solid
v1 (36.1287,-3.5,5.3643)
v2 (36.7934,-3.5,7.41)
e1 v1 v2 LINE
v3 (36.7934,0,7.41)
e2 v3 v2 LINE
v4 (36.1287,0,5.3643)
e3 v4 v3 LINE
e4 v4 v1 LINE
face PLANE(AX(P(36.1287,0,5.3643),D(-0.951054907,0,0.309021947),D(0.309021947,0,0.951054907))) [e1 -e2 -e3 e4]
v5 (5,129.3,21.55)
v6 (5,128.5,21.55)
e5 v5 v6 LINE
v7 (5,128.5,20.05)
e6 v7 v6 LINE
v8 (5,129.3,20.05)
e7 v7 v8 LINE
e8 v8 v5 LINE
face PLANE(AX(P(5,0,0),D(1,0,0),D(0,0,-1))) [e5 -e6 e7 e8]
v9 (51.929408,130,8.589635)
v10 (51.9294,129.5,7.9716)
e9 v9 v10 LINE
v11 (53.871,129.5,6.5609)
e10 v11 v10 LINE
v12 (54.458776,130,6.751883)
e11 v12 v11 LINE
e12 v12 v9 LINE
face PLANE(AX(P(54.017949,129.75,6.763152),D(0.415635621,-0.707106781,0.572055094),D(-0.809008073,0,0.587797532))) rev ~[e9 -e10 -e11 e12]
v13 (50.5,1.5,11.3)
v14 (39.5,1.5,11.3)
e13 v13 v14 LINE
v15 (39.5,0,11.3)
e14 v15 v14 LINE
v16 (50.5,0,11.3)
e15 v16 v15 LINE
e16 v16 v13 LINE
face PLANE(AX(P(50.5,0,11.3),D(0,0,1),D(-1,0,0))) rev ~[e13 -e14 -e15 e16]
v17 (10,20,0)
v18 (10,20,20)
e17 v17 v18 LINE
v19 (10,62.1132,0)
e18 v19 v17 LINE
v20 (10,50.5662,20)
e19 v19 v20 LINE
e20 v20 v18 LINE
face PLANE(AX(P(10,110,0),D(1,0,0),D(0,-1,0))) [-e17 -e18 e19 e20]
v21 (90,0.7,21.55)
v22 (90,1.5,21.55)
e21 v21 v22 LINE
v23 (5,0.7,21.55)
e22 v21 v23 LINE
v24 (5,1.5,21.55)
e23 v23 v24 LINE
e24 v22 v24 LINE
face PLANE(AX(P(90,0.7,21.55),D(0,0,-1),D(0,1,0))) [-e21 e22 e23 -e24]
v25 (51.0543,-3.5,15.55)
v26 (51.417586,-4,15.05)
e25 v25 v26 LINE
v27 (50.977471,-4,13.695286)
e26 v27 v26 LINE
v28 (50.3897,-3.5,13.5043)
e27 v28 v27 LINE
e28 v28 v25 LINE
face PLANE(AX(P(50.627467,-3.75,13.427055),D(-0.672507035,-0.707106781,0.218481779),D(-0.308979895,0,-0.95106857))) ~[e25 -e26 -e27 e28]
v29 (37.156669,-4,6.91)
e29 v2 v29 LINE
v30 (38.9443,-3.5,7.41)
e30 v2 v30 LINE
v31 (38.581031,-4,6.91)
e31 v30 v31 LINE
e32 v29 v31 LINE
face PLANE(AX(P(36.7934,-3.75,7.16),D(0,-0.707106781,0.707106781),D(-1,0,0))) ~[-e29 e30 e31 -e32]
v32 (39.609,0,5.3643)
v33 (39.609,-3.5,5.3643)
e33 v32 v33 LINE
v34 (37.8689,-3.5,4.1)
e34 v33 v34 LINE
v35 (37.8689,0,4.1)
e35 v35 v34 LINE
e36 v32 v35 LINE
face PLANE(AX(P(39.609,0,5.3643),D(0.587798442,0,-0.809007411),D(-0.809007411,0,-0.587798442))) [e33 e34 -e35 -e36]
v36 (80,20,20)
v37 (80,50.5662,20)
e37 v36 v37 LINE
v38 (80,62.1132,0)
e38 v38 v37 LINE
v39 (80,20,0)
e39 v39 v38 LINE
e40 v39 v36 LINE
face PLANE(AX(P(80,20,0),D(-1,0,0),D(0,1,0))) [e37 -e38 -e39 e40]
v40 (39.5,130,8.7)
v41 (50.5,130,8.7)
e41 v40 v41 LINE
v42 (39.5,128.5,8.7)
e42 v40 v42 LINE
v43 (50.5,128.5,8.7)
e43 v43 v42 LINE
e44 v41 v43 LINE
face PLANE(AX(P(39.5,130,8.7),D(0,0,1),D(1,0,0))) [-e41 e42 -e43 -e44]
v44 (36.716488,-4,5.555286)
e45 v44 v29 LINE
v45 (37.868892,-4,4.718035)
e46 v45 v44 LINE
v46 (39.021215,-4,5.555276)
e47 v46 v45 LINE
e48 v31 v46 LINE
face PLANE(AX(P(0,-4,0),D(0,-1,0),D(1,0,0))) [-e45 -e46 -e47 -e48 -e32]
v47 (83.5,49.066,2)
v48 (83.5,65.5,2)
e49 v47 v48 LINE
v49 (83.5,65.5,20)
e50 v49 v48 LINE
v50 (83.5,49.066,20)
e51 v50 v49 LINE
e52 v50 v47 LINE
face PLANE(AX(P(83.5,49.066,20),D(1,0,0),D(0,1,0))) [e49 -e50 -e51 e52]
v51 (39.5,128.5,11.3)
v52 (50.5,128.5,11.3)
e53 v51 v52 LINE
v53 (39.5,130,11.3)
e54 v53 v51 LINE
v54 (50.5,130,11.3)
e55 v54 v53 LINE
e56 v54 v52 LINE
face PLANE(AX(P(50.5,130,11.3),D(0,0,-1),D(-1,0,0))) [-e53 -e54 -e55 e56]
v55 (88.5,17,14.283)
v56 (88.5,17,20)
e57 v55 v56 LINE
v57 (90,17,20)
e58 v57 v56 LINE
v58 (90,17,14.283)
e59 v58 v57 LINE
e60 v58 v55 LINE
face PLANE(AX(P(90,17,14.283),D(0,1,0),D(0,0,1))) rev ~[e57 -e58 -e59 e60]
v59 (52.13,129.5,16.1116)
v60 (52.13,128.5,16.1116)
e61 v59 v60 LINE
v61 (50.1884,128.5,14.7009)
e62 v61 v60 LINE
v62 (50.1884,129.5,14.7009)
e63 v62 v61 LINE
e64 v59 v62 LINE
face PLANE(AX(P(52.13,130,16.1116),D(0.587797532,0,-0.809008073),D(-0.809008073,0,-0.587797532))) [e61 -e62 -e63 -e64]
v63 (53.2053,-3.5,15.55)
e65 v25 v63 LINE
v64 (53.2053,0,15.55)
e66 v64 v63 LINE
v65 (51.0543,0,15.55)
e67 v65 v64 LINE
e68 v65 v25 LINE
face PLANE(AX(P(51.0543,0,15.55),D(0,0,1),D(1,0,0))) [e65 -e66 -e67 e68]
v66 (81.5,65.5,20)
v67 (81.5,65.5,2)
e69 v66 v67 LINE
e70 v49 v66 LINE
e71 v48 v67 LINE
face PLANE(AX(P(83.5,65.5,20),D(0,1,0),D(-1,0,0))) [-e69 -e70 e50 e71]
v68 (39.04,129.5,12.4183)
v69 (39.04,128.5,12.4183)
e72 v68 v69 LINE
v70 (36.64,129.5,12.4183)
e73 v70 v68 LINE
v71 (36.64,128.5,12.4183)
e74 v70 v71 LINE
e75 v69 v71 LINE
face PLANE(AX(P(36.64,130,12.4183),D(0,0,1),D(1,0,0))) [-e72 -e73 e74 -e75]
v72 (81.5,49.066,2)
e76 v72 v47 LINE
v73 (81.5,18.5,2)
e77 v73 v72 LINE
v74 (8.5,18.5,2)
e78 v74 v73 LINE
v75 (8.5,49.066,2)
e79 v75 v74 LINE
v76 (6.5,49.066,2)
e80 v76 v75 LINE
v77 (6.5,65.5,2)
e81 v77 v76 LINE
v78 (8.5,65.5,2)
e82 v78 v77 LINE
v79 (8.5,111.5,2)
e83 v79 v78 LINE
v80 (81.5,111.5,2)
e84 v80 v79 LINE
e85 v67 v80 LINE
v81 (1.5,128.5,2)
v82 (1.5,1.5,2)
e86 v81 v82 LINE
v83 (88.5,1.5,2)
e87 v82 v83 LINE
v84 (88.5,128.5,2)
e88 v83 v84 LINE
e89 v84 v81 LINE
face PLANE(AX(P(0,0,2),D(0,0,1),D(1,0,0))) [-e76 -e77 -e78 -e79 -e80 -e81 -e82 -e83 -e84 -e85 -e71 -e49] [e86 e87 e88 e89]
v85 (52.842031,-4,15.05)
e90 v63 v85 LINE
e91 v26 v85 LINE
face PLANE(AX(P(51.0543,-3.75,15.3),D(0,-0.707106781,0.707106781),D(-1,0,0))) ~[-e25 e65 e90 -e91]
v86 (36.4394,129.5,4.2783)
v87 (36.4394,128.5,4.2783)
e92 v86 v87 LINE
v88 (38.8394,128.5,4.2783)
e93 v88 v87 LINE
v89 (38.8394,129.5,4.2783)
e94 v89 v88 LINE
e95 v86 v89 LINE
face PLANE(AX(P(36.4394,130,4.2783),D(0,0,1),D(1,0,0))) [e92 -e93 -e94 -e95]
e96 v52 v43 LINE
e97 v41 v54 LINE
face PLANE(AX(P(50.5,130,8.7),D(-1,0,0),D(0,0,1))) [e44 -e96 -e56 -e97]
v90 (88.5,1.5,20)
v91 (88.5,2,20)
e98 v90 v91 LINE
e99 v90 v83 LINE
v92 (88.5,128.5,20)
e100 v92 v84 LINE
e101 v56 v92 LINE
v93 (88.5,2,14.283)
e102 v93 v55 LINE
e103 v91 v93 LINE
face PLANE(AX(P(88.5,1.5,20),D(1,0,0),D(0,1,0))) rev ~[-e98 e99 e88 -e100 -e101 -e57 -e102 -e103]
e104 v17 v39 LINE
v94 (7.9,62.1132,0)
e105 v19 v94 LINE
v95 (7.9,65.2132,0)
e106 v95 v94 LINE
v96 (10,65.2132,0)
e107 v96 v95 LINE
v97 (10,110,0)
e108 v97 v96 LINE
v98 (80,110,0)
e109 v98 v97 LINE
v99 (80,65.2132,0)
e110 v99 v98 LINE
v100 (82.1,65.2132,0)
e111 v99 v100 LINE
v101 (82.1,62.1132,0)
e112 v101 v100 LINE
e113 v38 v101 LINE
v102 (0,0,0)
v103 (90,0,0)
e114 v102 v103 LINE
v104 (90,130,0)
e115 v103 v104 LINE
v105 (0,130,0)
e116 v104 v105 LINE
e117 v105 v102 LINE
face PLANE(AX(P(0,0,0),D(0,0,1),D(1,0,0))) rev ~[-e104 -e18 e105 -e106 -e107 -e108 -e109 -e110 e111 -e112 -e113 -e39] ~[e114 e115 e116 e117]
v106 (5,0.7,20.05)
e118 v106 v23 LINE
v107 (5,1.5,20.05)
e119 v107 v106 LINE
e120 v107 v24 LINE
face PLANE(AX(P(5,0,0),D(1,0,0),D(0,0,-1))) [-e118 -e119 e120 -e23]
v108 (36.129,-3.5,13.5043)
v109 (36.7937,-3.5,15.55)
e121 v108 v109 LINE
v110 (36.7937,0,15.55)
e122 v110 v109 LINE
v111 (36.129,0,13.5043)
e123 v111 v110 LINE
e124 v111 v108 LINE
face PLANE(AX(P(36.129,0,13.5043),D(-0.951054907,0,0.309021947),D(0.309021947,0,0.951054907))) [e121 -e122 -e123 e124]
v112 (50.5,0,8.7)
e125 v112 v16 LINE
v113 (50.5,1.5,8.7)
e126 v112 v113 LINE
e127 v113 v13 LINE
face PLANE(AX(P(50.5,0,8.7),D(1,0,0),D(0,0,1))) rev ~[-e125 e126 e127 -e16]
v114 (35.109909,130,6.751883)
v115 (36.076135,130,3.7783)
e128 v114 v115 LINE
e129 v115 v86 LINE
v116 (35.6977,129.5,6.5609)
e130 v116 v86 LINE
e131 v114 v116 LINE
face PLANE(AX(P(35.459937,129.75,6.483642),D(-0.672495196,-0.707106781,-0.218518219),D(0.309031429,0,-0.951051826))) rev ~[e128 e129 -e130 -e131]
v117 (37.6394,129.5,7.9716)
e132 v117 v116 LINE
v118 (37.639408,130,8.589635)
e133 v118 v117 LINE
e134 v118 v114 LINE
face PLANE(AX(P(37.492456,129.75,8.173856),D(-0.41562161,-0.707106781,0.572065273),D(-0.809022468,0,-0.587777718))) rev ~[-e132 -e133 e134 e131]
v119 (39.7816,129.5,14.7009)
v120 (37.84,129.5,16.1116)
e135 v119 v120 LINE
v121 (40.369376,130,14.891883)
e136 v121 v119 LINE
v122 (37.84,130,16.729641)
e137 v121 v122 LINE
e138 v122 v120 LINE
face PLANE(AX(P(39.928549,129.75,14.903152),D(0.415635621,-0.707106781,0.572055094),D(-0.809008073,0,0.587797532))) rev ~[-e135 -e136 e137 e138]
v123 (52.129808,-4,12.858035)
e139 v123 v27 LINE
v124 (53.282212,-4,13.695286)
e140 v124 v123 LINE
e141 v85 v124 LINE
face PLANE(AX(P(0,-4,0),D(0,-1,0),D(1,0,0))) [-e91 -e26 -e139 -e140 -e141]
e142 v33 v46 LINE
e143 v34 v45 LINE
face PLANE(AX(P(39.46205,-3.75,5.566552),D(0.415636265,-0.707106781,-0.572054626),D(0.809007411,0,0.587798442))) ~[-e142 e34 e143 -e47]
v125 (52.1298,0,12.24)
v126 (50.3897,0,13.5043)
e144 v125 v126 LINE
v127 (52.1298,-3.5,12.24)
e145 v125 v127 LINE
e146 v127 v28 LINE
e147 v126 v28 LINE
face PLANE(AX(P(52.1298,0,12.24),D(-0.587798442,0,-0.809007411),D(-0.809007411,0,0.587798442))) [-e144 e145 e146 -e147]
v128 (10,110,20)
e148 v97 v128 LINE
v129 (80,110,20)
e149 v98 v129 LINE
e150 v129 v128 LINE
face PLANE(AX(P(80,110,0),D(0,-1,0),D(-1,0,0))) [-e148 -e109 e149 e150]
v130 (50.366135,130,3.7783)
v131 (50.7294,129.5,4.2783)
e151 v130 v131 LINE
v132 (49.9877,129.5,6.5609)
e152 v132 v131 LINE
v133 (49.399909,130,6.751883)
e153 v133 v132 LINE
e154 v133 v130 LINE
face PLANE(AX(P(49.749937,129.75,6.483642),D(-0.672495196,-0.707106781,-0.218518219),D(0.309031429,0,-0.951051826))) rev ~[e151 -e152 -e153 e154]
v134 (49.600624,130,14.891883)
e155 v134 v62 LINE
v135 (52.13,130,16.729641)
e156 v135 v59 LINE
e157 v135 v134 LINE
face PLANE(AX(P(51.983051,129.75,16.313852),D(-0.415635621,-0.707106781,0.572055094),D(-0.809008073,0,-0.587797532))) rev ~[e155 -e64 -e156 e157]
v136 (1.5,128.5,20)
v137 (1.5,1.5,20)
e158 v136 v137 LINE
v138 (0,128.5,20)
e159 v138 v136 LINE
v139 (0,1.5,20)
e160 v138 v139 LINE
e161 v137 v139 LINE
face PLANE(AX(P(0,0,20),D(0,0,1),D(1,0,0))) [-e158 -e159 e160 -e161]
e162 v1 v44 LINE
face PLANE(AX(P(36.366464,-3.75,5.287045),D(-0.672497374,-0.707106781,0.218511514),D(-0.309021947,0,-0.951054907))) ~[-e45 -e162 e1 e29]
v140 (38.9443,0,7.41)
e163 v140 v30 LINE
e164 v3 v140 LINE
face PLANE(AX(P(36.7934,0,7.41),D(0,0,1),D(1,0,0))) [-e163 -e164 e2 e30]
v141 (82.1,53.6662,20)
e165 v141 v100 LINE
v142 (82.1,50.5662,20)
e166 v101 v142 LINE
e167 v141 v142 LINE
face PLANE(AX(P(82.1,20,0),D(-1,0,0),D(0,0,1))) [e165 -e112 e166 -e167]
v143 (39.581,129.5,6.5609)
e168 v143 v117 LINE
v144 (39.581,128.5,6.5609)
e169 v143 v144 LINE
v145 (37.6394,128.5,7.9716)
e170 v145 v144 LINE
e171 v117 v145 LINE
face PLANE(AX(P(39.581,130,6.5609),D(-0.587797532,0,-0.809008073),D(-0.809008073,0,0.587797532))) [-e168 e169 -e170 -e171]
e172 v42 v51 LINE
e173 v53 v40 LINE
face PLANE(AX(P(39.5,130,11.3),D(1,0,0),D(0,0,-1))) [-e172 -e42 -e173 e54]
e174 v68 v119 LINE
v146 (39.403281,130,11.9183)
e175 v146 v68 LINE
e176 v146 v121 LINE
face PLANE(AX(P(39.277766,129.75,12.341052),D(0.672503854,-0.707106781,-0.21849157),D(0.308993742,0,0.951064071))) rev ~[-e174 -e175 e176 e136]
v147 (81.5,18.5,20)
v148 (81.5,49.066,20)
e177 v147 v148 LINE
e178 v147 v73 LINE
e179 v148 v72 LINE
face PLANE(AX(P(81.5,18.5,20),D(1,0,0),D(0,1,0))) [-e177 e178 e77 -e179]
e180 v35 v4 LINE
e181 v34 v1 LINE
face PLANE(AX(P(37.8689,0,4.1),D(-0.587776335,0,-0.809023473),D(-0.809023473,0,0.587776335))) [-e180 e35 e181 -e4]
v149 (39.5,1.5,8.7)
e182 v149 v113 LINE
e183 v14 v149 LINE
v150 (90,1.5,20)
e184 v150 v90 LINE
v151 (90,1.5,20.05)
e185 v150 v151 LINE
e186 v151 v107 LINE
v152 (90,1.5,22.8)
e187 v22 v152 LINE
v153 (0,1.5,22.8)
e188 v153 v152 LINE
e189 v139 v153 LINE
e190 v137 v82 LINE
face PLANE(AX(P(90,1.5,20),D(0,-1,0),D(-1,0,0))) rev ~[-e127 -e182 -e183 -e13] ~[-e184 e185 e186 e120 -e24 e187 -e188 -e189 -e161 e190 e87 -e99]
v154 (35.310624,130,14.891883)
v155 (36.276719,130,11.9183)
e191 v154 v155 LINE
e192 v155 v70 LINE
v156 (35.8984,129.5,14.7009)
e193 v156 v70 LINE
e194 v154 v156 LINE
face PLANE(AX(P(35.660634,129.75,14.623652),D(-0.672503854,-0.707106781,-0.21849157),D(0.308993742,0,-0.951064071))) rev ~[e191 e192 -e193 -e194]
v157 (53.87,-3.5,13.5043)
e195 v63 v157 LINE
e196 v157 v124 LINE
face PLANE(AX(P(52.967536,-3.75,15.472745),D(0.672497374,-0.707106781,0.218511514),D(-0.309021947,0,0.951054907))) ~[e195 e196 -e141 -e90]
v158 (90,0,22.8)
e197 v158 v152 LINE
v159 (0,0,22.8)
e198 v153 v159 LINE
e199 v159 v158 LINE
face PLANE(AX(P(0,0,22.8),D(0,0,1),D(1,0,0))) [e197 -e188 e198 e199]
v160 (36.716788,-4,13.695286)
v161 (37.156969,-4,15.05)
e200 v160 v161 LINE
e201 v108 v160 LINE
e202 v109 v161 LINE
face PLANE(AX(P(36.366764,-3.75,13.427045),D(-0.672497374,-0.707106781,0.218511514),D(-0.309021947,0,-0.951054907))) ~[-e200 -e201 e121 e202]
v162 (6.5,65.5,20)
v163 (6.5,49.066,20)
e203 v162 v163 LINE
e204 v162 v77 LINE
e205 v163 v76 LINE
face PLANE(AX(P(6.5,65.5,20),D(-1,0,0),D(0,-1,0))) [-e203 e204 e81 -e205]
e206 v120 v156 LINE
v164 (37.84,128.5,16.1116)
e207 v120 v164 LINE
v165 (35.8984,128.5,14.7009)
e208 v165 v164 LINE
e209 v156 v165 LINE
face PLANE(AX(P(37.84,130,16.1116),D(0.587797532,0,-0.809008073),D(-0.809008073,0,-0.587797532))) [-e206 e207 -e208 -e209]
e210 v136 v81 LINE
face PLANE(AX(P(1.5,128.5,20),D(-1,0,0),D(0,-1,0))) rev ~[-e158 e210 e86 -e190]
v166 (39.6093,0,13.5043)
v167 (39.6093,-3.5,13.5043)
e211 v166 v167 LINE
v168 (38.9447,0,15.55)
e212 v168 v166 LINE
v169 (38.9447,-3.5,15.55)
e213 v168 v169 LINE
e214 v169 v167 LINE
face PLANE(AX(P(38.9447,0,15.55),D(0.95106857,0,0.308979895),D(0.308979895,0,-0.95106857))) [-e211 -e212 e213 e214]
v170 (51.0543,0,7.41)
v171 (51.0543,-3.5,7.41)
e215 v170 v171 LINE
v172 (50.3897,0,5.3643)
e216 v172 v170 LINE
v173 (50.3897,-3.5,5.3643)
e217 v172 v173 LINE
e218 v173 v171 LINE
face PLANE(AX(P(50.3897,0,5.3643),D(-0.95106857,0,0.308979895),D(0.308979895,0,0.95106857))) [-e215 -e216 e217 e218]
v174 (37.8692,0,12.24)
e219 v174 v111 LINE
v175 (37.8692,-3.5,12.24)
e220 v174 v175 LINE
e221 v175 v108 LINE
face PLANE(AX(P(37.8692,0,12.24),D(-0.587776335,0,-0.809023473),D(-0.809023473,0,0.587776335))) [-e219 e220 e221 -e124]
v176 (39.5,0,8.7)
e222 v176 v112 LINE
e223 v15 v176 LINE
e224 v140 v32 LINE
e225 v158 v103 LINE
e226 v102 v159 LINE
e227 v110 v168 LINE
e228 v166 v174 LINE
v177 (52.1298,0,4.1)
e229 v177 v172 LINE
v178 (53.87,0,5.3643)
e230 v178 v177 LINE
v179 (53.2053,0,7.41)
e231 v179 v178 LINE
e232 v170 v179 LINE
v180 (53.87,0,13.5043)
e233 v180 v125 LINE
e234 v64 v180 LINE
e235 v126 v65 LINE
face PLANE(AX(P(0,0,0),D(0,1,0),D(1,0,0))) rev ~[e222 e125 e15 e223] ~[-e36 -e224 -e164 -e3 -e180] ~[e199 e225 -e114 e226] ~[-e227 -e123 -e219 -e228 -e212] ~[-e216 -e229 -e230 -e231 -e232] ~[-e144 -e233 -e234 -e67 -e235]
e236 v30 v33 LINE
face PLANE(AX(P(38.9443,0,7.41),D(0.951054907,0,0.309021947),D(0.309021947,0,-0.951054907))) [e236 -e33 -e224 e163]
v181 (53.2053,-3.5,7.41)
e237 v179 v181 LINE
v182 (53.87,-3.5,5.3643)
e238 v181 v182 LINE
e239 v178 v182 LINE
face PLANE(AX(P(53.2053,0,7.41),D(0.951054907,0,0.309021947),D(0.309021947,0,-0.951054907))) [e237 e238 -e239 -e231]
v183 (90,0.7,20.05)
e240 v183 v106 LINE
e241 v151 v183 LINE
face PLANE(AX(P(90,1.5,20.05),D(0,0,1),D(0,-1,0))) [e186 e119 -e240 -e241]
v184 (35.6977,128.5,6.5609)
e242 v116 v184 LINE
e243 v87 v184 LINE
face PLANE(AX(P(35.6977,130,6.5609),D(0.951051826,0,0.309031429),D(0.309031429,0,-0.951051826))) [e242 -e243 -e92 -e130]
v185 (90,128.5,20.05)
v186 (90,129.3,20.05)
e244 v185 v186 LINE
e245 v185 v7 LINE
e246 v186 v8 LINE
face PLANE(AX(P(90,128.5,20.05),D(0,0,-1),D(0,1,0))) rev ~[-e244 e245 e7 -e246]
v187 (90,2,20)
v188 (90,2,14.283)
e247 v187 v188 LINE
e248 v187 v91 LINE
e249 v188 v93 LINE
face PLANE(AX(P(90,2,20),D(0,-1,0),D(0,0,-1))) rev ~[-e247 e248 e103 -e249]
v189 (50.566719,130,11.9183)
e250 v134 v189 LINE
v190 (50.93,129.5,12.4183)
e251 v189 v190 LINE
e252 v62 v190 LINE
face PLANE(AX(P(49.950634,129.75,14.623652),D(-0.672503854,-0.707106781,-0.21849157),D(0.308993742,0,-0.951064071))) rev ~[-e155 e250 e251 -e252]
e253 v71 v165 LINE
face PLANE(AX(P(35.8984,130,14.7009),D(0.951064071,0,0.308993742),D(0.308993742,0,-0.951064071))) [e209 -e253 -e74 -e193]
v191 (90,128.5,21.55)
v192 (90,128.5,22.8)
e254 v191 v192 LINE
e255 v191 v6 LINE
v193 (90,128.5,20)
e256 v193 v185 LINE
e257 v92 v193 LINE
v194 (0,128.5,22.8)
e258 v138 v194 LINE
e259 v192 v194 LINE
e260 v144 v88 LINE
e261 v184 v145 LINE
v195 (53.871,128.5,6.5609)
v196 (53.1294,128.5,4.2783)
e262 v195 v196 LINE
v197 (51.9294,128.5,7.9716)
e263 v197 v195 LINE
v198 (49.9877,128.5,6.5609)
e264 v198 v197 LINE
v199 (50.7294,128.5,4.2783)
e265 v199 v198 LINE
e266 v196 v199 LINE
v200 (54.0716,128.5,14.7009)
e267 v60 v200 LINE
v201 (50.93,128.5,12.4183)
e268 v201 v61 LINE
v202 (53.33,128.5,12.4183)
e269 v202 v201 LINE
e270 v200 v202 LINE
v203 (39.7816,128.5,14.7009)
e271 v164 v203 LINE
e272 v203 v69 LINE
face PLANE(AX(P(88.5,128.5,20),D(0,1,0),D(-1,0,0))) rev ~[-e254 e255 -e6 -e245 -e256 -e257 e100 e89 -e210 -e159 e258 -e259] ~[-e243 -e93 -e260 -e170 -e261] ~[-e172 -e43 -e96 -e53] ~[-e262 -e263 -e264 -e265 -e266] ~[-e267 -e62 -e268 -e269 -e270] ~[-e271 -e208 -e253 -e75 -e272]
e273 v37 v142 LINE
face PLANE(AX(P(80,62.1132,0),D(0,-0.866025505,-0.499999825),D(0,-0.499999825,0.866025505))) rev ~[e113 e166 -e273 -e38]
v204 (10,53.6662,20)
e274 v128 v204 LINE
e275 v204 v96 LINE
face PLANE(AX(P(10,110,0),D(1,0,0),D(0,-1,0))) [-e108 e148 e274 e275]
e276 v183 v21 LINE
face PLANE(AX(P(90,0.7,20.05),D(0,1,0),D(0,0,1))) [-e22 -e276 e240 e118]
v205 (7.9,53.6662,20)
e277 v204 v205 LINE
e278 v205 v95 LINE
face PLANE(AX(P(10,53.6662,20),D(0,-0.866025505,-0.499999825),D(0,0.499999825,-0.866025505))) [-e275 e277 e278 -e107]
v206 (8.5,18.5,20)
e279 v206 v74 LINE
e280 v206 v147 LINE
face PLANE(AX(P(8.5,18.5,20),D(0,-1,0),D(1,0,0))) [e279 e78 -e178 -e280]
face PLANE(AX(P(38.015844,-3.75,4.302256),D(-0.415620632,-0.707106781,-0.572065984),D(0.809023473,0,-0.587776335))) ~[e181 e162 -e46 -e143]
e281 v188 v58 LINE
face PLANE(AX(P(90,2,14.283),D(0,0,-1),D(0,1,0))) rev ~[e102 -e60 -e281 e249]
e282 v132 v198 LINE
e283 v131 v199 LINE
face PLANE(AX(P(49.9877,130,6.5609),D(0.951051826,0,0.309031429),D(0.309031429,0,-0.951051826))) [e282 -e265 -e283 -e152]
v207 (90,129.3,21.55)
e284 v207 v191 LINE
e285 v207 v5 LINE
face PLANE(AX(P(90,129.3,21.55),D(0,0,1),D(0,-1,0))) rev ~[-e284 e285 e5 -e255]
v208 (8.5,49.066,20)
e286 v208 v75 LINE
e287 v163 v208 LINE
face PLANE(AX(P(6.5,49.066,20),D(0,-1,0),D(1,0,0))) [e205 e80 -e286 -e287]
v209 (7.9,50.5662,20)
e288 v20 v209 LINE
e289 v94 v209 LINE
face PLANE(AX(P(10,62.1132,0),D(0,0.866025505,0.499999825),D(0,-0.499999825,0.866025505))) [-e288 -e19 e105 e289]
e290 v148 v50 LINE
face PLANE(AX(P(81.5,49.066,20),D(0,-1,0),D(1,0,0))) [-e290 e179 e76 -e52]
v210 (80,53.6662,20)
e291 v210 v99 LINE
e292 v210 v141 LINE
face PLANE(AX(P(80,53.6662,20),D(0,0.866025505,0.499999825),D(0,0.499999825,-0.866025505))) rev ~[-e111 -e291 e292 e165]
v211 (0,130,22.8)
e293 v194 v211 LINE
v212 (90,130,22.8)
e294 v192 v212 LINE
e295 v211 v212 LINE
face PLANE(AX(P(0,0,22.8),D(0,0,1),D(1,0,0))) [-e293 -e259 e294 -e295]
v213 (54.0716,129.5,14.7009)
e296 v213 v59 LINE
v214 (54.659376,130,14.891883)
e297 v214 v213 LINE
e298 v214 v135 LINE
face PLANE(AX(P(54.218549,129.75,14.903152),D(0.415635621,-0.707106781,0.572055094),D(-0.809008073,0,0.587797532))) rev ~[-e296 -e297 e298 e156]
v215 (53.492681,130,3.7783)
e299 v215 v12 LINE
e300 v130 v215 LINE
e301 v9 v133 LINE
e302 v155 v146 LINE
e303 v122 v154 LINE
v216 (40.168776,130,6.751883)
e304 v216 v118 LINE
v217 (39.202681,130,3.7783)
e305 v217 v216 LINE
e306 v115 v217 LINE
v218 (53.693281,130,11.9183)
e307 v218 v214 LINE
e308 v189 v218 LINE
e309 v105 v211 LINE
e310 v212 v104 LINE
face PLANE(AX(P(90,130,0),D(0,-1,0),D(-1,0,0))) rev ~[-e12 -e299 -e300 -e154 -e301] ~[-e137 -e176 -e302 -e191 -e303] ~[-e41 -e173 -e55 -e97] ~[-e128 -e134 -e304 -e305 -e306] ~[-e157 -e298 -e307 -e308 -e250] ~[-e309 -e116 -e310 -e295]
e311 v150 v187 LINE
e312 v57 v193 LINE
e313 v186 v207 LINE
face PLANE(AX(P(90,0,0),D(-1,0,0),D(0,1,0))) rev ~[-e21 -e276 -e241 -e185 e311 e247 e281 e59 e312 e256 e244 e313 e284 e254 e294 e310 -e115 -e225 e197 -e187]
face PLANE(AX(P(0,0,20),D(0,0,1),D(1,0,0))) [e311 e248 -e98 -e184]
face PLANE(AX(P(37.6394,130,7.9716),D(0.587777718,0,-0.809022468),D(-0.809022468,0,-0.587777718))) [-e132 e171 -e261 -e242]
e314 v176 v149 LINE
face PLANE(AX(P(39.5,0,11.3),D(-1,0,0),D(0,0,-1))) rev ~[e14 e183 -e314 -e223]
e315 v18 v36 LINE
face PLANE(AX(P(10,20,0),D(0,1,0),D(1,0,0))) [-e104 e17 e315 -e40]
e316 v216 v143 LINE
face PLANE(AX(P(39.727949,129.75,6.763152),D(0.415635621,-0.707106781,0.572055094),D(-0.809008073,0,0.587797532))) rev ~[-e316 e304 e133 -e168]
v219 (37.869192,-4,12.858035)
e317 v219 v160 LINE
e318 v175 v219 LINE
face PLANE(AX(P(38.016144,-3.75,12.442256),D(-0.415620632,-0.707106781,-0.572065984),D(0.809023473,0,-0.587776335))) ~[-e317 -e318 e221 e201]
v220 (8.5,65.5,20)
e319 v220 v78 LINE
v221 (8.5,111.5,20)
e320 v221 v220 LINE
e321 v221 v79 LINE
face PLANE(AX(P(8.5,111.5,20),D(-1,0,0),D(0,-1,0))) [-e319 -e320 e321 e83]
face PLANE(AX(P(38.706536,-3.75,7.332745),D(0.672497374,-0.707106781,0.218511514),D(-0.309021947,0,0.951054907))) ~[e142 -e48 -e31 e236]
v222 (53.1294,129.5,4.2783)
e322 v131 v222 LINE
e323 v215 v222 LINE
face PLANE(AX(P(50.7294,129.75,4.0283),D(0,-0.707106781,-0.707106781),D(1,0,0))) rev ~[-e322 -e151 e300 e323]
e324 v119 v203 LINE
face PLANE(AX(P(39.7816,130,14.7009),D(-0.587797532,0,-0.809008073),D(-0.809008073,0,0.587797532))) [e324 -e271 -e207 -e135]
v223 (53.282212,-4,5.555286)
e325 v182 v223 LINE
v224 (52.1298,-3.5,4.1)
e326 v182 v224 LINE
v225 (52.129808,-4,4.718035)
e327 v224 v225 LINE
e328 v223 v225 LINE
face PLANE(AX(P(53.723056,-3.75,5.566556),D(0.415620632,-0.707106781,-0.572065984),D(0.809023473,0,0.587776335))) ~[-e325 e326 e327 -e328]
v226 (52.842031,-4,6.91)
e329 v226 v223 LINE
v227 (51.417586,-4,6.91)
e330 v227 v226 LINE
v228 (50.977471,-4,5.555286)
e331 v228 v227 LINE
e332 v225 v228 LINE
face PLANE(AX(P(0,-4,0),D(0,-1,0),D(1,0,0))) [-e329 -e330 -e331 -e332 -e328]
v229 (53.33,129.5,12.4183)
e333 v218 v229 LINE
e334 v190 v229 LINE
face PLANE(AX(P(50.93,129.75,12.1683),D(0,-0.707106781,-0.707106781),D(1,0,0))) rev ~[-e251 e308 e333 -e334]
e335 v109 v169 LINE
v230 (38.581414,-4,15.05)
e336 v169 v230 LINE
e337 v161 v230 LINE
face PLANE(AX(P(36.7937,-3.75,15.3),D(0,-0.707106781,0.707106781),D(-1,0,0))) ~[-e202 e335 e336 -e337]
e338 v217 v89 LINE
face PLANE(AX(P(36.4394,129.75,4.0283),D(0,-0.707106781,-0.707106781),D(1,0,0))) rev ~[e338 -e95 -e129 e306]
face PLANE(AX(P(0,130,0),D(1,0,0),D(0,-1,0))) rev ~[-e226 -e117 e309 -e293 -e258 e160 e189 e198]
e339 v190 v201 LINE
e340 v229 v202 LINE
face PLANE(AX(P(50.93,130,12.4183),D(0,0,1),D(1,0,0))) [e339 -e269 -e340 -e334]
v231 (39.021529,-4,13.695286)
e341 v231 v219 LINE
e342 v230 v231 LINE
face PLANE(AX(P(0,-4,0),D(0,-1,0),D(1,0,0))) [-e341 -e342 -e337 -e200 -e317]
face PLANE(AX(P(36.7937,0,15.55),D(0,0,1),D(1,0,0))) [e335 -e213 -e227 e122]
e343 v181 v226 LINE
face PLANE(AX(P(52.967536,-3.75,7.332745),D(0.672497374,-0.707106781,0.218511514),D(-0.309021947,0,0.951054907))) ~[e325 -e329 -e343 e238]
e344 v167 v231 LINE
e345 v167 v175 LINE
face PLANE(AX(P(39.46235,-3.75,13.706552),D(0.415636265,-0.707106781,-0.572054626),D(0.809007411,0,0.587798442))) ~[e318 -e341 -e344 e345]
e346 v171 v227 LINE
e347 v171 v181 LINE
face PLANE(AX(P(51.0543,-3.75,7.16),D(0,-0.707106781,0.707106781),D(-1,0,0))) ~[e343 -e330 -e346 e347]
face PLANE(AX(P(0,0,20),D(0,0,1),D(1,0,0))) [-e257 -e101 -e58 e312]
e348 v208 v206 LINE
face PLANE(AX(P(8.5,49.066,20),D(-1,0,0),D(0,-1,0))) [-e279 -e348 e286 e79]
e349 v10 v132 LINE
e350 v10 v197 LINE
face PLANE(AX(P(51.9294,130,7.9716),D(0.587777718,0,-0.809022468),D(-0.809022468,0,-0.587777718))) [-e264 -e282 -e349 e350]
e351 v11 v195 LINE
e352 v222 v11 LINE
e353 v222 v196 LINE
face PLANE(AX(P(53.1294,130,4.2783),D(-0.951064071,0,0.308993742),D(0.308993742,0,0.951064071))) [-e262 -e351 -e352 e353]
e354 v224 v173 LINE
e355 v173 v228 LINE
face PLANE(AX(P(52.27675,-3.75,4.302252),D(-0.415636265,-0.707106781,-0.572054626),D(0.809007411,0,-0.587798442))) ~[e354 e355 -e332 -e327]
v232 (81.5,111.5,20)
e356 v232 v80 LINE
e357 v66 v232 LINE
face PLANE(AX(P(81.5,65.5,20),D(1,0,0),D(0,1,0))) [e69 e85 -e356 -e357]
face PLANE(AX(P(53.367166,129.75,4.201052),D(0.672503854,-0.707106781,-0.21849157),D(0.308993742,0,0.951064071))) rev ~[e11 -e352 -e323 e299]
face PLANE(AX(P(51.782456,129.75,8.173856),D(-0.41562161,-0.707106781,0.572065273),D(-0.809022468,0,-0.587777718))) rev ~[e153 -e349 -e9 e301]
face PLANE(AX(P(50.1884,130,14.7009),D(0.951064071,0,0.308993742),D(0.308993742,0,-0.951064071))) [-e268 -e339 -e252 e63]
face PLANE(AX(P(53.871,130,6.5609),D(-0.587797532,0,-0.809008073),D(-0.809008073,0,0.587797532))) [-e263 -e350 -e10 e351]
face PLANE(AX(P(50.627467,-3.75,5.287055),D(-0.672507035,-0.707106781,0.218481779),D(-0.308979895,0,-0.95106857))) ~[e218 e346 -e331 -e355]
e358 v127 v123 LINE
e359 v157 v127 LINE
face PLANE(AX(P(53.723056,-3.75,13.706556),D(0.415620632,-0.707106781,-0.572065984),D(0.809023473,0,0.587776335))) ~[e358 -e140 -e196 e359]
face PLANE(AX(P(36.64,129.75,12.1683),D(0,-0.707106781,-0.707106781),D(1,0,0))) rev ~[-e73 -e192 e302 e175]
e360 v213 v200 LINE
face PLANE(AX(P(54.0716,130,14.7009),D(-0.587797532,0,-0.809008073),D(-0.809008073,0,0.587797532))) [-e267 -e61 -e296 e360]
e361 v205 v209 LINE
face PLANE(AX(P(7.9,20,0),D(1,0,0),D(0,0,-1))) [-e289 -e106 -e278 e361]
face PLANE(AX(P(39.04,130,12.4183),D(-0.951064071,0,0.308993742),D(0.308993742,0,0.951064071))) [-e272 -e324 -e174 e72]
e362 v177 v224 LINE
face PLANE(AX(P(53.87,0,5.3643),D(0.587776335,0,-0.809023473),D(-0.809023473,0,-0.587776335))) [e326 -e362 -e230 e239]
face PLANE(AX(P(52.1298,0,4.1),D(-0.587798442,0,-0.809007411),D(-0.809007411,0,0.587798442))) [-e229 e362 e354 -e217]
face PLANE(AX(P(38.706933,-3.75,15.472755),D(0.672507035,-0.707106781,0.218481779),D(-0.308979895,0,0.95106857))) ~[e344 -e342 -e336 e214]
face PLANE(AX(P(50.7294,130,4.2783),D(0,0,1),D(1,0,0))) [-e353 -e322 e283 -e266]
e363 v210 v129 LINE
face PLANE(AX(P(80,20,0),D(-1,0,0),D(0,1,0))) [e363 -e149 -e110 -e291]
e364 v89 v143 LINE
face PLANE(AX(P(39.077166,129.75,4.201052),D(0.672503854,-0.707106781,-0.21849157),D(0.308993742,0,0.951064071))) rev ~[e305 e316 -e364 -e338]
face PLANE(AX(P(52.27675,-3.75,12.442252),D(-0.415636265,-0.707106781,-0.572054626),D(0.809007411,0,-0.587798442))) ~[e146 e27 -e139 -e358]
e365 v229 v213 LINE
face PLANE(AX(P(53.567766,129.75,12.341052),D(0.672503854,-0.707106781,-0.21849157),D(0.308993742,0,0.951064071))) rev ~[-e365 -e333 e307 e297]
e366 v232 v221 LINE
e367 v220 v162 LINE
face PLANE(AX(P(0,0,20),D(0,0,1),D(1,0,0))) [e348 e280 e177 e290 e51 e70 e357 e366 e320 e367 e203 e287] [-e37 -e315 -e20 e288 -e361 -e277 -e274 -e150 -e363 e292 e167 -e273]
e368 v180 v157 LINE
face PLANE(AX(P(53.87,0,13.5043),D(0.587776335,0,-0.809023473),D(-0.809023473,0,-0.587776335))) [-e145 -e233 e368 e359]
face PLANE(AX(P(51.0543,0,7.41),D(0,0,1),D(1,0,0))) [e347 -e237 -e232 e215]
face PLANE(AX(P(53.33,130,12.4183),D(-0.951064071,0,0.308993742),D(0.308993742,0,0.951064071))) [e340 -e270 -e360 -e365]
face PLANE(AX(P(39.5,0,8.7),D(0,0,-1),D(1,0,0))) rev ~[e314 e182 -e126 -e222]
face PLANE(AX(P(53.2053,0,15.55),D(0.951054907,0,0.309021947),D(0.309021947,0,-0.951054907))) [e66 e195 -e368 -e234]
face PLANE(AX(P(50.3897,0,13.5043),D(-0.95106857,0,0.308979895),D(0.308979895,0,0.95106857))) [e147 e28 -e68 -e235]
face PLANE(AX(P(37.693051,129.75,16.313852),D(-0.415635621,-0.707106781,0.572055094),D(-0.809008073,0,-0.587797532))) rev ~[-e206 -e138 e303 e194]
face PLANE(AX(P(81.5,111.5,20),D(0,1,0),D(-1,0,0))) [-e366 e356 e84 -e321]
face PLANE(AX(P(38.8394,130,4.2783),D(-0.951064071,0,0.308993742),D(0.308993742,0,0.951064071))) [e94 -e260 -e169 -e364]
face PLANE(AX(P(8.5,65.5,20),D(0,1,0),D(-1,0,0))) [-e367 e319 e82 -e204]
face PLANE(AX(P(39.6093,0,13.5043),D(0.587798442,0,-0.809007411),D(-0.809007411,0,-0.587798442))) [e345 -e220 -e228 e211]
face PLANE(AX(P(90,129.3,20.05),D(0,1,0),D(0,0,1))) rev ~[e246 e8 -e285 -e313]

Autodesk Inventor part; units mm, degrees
ref_plane "YZ Plane" through (0, 0, 0) normal (1, 0, 0) x (0, 1, 0)
ref_plane "XZ Plane" through (0, 0, 0) normal (0, 1, 0) x (-1, 0, 0)
ref_plane "XY Plane" through (0, 0, 0) normal (0, 0, 1) x (1, 0, 0)
sketch "Sketch1" plane through (0, 0, 0) normal (0, 0, 1) x (1, 0, 0)
  line L0 (0, 0) -> (90, 0)
  line L1 (90, 0) -> (90, 130)
  line L2 (90, 130) -> (0, 130)
  line L3 (0, 130) -> (0, 0)
  line L4 (10, 20) -> (80, 20)
  line L5 (80, 20) -> (80, 110)
  line L6 (80, 110) -> (10, 110)
  line L7 (10, 110) -> (10, 20)
  dimension "d0" = 90
  dimension "d1" = 130
  dimension "d2" = 70
  dimension "d3" = 90
  dimension "d16" = 20
  dimension "d17" = 20
  dimension "d18" = 10
extrude "Extrusion1" add sketch "Sketch1" along normal blind 20
sketch "Sketch2" plane through (10, 20, 0) normal (1, 0, 0) x (0, 0, -1)
  line L0 (0, 90) -> (0, 0) projected
  line L1 (0, 42.1132) -> (-20, 30.5662)
  line L2 (-20, 110) -> (-20, -20) projected
  line L3 (0, 42.1132) -> (23.094, 42.1132) construction
  line L4 (-20, 30.5662) -> (-20, 33.6662)
  line L5 (-20, 33.6662) -> (0, 45.2132)
  line L6 (0, 42.1132) -> (0, 45.2132)
  point P0 (-20, 0)
  point P1 (0, -20)
  dimension "d6" = 210
  dimension "d7" = 3.1
  dimension "d8" = 26.4711
extrude "Extrusion2" cut sketch "Sketch2" against normal blind 2.1
sketch "Sketch3" plane through (80, 20, 0) normal (-1, 0, 0) x (0, 0, 1)
  line L0 (0, 0) -> (0, 90) projected
  line L1 (20, 90) -> (20, 0) projected
  line L2 (0, 42.1132) -> (20, 30.5662)
  line L3 (0, 42.1132) -> (23.094, 42.1132) construction
  line L4 (20, 30.5662) -> (20, 33.6662)
  line L5 (20, 33.6662) -> (0, 45.2132)
  line L6 (0, 42.1132) -> (0, 45.2132)
  point P0 (0, -20)
  dimension "d11" = 30
  dimension "d12" = 3.1
  dimension "d13" = 26.4711
extrude "Extrusion3" cut sketch "Sketch3" against normal blind 2.1
sketch "Sketch4" plane through (0, 0, 0) normal (0, -1, 0) x (1, 0, 0)
  line L0 (0, 0) -> (90, 0) projected
  line L1 (90, 0) -> (90, 20) projected
  line L2 (0, 20) -> (90, 20) projected
  line L3 (0, 0) -> (0, 20) projected
  line L4 (55, 3) -> (35, 3)
  line L5 (35, 3) -> (35, 17)
  line L6 (35, 17) -> (55, 17)
  line L7 (55, 17) -> (55, 3)
  line L8 (53.2053, 7.41) -> (53.87, 5.3643)
  line L9 (53.87, 5.3643) -> (52.1298, 4.1)
  line L10 (52.1298, 4.1) -> (50.3897, 5.3643)
  line L11 (50.3897, 5.3643) -> (51.0543, 7.41)
  line L12 (51.0543, 7.41) -> (53.2053, 7.41)
  line L13 (38.9443, 7.41) -> (39.609, 5.3643)
  line L14 (39.609, 5.3643) -> (37.8689, 4.1)
  line L15 (37.8689, 4.1) -> (36.1287, 5.3643)
  line L16 (36.1287, 5.3643) -> (36.7934, 7.41)
  line L17 (36.7934, 7.41) -> (38.9443, 7.41)
  line L18 (38.9447, 15.55) -> (39.6093, 13.5043)
  line L19 (39.6093, 13.5043) -> (37.8692, 12.24)
  line L20 (37.8692, 12.24) -> (36.129, 13.5043)
  line L21 (36.129, 13.5043) -> (36.7937, 15.55)
  line L22 (36.7937, 15.55) -> (38.9447, 15.55)
  line L23 (53.2053, 15.55) -> (53.87, 13.5043)
  line L24 (53.87, 13.5043) -> (52.1298, 12.24)
  line L25 (52.1298, 12.24) -> (50.3897, 13.5043)
  line L26 (50.3897, 13.5043) -> (51.0543, 15.55)
  line L27 (51.0543, 15.55) -> (53.2053, 15.55)
  point P0 (52.1298, 5.9297)
  point P1 (37.8689, 5.9297)
  point P2 (37.8692, 14.0697)
  point P3 (52.1298, 14.0697)
  dimension "d19" = 20
  dimension "d20" = 14
  dimension "d21" = 3
  dimension "d22" = 3
  dimension "d23" = 35
  dimension "d24" = 35
  dimension "d25" = 1.45
  dimension "d26" = 1.45
  dimension "d27" = 1.1
  dimension "d28" = 1.1
  dimension "d29" = 12.11
  dimension "d30" = 1.13
  dimension "d31" = 1.13
  dimension "d32" = 4.83
  dimension "d33" = 4.83
  dimension "d34" = 1.129
  dimension "d35" = 1.1287
extrude "Extrusion4" add sketch "Sketch4" along normal blind 4 contours L8 L9 L10 L11 L12 | L13 L14 L15 L16 L17 | L18 L19 L20 L21 L22 | L23 L24 L25 L26 L27
chamfer "Chamfer1" distance 0.5 angle 45 20 edges at (52.1298, -4, 15.55) (50.722, -4, 14.5272) (51.2597, -4, 12.8722) (52.9999, -4, 12.8722) (53.5377, -4, 14.5272) (52.1298, -4, 7.41) (53.5377, -4, 6.3872) (52.9999, -4, 4.7322) (51.2597, -4, 4.7322) (50.722, -4, 6.3872) (39.277, -4, 14.5272) (38.7393, -4, 12.8722) (36.9991, -4, 12.8722) (36.4613, -4, 14.5272) (37.8692, -4, 15.55) (37.8689, -4, 7.41) (39.2767, -4, 6.3872) (38.7389, -4, 4.7322) (36.9988, -4, 4.7322) (36.461, -4, 6.3872)
sketch "Sketch5" plane through (0, 130, 0) normal (0, 1, 0) x (1, 0, 0)
  line L0 (90, 0) -> (0, 0) projected
  line L1 (0, 0) -> (0, -20) projected
  line L2 (90, -20) -> (0, -20) projected
  line L3 (90, 0) -> (90, -20) projected
  line L4 (55, -17) -> (35, -17)
  line L5 (35, -17) -> (35, -3)
  line L6 (35, -3) -> (55, -3)
  line L7 (55, -3) -> (55, -17)
  line L8 (51.9294, -7.9716) -> (49.9877, -6.5609)
  line L9 (49.9877, -6.5609) -> (50.7294, -4.2783)
  line L10 (50.7294, -4.2783) -> (53.1294, -4.2783)
  line L11 (53.1294, -4.2783) -> (53.871, -6.5609)
  line L12 (53.871, -6.5609) -> (51.9294, -7.9716)
  line L13 (52.13, -16.1116) -> (50.1884, -14.7009)
  line L14 (50.1884, -14.7009) -> (50.93, -12.4183)
  line L15 (50.93, -12.4183) -> (53.33, -12.4183)
  line L16 (53.33, -12.4183) -> (54.0716, -14.7009)
  line L17 (54.0716, -14.7009) -> (52.13, -16.1116)
  line L18 (37.84, -16.1116) -> (35.8984, -14.7009)
  line L19 (35.8984, -14.7009) -> (36.64, -12.4183)
  line L20 (36.64, -12.4183) -> (39.04, -12.4183)
  line L21 (39.04, -12.4183) -> (39.7816, -14.7009)
  line L22 (39.7816, -14.7009) -> (37.84, -16.1116)
  line L23 (37.6394, -7.9716) -> (35.6977, -6.5609)
  line L24 (35.6977, -6.5609) -> (36.4394, -4.2783)
  line L25 (36.4394, -4.2783) -> (38.8394, -4.2783)
  line L26 (38.8394, -4.2783) -> (39.581, -6.5609)
  line L27 (39.581, -6.5609) -> (37.6394, -7.9716)
  line L28 (50.5, -11.3) -> (39.5, -11.3)
  line L29 (39.5, -11.3) -> (39.5, -8.7)
  line L30 (39.5, -8.7) -> (50.5, -8.7)
  line L31 (50.5, -8.7) -> (50.5, -11.3)
  point P0 (51.9294, -5.93)
  point P1 (52.13, -14.07)
  point P2 (37.84, -14.07)
  point P3 (37.6394, -5.93)
  dimension "d41" = 20
  dimension "d42" = 14
  dimension "d43" = 3
  dimension "d44" = 3
  dimension "d45" = 35
  dimension "d46" = 35
  dimension "d142" = 2.4
  dimension "d144" = 2.4
  dimension "d148" = 2.4
  dimension "d151" = 4.4468
  dimension "d154" = 2.4
  dimension "d158" = 11.89
  dimension "d159" = 11
  dimension "d160" = 2.6
  dimension "d161" = 4.5
  dimension "d162" = 5.7
  dimension "d164" = 2.87
  dimension "d165" = 2.93
  dimension "d168" = 14.29
  dimension "d170" = 8.14
  dimension "d172" = 2.93
  dimension "d173" = 8.14
  dimension "d174" = 4.4468
  dimension "d175" = 0.6977
  dimension "d176" = 1.129
  dimension "d177" = 14.29
extrude "Extrusion5" cut sketch "Sketch5" against normal blind 4 contours L8 L9 L10 L11 L12 | L13 L14 L15 L16 L17 | L18 L19 L20 L21 L22 | L23 L24 L25 L26 L27 | L28 L29 L30 L31
chamfer "Chamfer2" distance 0.5 angle 45 20 edges at (51.1592, 130, 15.4062) (53.1008, 130, 15.4062) (53.7008, 130, 13.5596) (52.13, 130, 12.4183) (50.5592, 130, 13.5596) (50.9586, 130, 7.2662) (52.9002, 130, 7.2662) (53.5002, 130, 5.4196) (51.9294, 130, 4.2783) (50.3586, 130, 5.4196) (39.4108, 130, 13.5596) (38.8108, 130, 15.4062) (36.8692, 130, 15.4062) (36.2692, 130, 13.5596) (37.84, 130, 12.4183) (36.6686, 130, 7.2662) (38.6102, 130, 7.2662) (39.2102, 130, 5.4196) (37.6394, 130, 4.2783) (36.0686, 130, 5.4196)
sketch "Sketch6" plane through (0, 0, 20) normal (0, 0, 1) x (1, 0, 0)
  line L0 (0, 0) -> (90, 0) projected
  line L1 (90, 0) -> (90, 130) projected
  line L2 (90, 130) -> (0, 130) projected
  line L3 (1.5, 130) -> (1.5, 1.5)
  line L4 (0, 0) -> (90, 0) projected
  line L5 (1.5, 1.5) -> (88.5, 1.5)
  line L6 (88.5, 1.5) -> (88.5, 128.5)
  line L7 (88.5, 128.5) -> (1.5, 128.5)
  line L8 (8.5, 111.5) -> (8.5, 65.5)
  line L9 (10, 65.2132) -> (7.9, 65.2132) projected
  line L10 (8.5, 65.5) -> (6.5, 65.5)
  line L11 (6.5, 65.5) -> (6.5, 49.066)
  line L12 (6.5, 49.066) -> (8.5, 49.066)
  line L13 (8.5, 49.066) -> (8.5, 18.5)
  line L14 (8.5, 18.5) -> (81.5, 18.5)
  line L15 (81.5, 18.5) -> (81.5, 49.066)
  line L16 (81.5, 49.066) -> (83.5, 49.066)
  line L17 (83.5, 49.066) -> (83.5, 65.5)
  line L18 (83.5, 65.5) -> (81.5, 65.5)
  line L19 (81.5, 65.5) -> (81.5, 111.5)
  line L20 (81.5, 111.5) -> (8.5, 111.5)
  dimension "d79" = 128.5
  dimension "d80" = 87
  dimension "d81" = 127
  dimension "d82" = 46
  dimension "d83" = 2
  dimension "d84" = 16.434
  dimension "d85" = 2
  dimension "d86" = 30.566
  dimension "d87" = 73
  dimension "d88" = 2
extrude "Extrusion6" cut sketch "Sketch6" against normal blind 18
sketch "Sketch7" plane through (0, 0, 0) normal (0, -1, 0) x (1, 0, 0)
  line L0 (0, 0) -> (90, 0) projected
  line L1 (90, 0) -> (90, 20) projected
  line L2 (0, 20) -> (90, 20) projected
  line L3 (0, 0) -> (0, 20) projected
  line L4 (39.5, 8.7) -> (50.5, 8.7)
  line L5 (50.5, 8.7) -> (50.5, 11.3)
  line L6 (50.5, 11.3) -> (39.5, 11.3)
  line L7 (39.5, 11.3) -> (39.5, 8.7)
  dimension "d100" = 11
  dimension "d101" = 2.6
  dimension "d102" = 8.7
  dimension "d103" = 39.5
  dimension "d104" = 39.5
  dimension "d105" = 8.7
extrude "Extrusion7" cut sketch "Sketch7" against normal blind 10 contours L7 L6 L5 L4
sketch "Sketch16" plane through (90, 0, 0) normal (1, 0, 0) x (0, 0, -1)
  line L0 (0, 0) -> (0, 130) projected
  line L1 (0, 0) -> (-20, 0) projected
  line L2 (-20, 1.5) -> (-20, 128.5) projected
  line L3 (-20, 2) -> (-14.283, 2)
  line L4 (-14.283, 2) -> (-14.283, 17)
  line L5 (-14.283, 17) -> (-20, 17)
  line L6 (-20, 17) -> (-20, 2)
  dimension "d178" = 2
  dimension "d179" = 15
  dimension "d180" = 14.283
extrude "Extrusion15" cut sketch "Sketch16" against normal blind 10
sketch "Sketch17" plane through (0, 0, 20) normal (0, 0, 1) x (1, 0, 0)
  line L0 (88.5, 1.5) -> (1.5, 1.5) projected
  line L1 (1.5, 128.5) -> (88.5, 128.5) projected
  line L2 (90, 17) -> (90, 130) projected
  line L3 (0, 0) -> (90, 0) projected
  line L4 (90, 0) -> (90, 2) projected
  line L5 (0, 0) -> (90, 0)
  line L6 (90, 0) -> (90, 1.5)
  line L7 (90, 1.5) -> (0, 1.5)
  line L8 (0, 1.5) -> (0, 0)
  line L9 (0, 130) -> (90, 130)
  line L10 (90, 130) -> (90, 128.5)
  line L11 (90, 128.5) -> (0, 128.5)
  line L12 (0, 128.5) -> (0, 130)
extrude "Extrusion16" add sketch "Sketch17" along normal blind 2.8
sketch "Sketch18" plane through (90, 0, 0) normal (1, 0, 0) x (0, 0, -1)
  line L0 (-20, 1.5) -> (-20, 2) projected
  line L1 (-22.8, 0) -> (-22.8, 1.5) projected
  line L2 (-22.8, 128.5) -> (-22.8, 130) projected
  line L3 (-20, 128.5) -> (-22.8, 128.5) projected
  line L4 (-20, 1.5) -> (-22.8, 1.5) projected
  line L5 (-21.55, 1.5) -> (-20.05, 1.5)
  line L6 (-20.05, 1.5) -> (-20.05, 0.7)
  line L7 (-20.05, 0.7) -> (-21.55, 0.7)
  line L8 (-21.55, 0.7) -> (-21.55, 1.5)
  line L9 (-21.55, 128.5) -> (-20.05, 128.5)
  line L10 (-20.05, 128.5) -> (-20.05, 129.3)
  line L11 (-20.05, 129.3) -> (-21.55, 129.3)
  line L12 (-21.55, 129.3) -> (-21.55, 128.5)
  dimension "d185" = 1.5
  dimension "d186" = 0.8
  dimension "d187" = 1.25
  dimension "d188" = 0.05
  dimension "d189" = 1.5
  dimension "d190" = 0.8
  dimension "d191" = 1.25
extrude "Extrusion17" cut sketch "Sketch18" against normal blind 85
properties part number "Frame V2.3"
